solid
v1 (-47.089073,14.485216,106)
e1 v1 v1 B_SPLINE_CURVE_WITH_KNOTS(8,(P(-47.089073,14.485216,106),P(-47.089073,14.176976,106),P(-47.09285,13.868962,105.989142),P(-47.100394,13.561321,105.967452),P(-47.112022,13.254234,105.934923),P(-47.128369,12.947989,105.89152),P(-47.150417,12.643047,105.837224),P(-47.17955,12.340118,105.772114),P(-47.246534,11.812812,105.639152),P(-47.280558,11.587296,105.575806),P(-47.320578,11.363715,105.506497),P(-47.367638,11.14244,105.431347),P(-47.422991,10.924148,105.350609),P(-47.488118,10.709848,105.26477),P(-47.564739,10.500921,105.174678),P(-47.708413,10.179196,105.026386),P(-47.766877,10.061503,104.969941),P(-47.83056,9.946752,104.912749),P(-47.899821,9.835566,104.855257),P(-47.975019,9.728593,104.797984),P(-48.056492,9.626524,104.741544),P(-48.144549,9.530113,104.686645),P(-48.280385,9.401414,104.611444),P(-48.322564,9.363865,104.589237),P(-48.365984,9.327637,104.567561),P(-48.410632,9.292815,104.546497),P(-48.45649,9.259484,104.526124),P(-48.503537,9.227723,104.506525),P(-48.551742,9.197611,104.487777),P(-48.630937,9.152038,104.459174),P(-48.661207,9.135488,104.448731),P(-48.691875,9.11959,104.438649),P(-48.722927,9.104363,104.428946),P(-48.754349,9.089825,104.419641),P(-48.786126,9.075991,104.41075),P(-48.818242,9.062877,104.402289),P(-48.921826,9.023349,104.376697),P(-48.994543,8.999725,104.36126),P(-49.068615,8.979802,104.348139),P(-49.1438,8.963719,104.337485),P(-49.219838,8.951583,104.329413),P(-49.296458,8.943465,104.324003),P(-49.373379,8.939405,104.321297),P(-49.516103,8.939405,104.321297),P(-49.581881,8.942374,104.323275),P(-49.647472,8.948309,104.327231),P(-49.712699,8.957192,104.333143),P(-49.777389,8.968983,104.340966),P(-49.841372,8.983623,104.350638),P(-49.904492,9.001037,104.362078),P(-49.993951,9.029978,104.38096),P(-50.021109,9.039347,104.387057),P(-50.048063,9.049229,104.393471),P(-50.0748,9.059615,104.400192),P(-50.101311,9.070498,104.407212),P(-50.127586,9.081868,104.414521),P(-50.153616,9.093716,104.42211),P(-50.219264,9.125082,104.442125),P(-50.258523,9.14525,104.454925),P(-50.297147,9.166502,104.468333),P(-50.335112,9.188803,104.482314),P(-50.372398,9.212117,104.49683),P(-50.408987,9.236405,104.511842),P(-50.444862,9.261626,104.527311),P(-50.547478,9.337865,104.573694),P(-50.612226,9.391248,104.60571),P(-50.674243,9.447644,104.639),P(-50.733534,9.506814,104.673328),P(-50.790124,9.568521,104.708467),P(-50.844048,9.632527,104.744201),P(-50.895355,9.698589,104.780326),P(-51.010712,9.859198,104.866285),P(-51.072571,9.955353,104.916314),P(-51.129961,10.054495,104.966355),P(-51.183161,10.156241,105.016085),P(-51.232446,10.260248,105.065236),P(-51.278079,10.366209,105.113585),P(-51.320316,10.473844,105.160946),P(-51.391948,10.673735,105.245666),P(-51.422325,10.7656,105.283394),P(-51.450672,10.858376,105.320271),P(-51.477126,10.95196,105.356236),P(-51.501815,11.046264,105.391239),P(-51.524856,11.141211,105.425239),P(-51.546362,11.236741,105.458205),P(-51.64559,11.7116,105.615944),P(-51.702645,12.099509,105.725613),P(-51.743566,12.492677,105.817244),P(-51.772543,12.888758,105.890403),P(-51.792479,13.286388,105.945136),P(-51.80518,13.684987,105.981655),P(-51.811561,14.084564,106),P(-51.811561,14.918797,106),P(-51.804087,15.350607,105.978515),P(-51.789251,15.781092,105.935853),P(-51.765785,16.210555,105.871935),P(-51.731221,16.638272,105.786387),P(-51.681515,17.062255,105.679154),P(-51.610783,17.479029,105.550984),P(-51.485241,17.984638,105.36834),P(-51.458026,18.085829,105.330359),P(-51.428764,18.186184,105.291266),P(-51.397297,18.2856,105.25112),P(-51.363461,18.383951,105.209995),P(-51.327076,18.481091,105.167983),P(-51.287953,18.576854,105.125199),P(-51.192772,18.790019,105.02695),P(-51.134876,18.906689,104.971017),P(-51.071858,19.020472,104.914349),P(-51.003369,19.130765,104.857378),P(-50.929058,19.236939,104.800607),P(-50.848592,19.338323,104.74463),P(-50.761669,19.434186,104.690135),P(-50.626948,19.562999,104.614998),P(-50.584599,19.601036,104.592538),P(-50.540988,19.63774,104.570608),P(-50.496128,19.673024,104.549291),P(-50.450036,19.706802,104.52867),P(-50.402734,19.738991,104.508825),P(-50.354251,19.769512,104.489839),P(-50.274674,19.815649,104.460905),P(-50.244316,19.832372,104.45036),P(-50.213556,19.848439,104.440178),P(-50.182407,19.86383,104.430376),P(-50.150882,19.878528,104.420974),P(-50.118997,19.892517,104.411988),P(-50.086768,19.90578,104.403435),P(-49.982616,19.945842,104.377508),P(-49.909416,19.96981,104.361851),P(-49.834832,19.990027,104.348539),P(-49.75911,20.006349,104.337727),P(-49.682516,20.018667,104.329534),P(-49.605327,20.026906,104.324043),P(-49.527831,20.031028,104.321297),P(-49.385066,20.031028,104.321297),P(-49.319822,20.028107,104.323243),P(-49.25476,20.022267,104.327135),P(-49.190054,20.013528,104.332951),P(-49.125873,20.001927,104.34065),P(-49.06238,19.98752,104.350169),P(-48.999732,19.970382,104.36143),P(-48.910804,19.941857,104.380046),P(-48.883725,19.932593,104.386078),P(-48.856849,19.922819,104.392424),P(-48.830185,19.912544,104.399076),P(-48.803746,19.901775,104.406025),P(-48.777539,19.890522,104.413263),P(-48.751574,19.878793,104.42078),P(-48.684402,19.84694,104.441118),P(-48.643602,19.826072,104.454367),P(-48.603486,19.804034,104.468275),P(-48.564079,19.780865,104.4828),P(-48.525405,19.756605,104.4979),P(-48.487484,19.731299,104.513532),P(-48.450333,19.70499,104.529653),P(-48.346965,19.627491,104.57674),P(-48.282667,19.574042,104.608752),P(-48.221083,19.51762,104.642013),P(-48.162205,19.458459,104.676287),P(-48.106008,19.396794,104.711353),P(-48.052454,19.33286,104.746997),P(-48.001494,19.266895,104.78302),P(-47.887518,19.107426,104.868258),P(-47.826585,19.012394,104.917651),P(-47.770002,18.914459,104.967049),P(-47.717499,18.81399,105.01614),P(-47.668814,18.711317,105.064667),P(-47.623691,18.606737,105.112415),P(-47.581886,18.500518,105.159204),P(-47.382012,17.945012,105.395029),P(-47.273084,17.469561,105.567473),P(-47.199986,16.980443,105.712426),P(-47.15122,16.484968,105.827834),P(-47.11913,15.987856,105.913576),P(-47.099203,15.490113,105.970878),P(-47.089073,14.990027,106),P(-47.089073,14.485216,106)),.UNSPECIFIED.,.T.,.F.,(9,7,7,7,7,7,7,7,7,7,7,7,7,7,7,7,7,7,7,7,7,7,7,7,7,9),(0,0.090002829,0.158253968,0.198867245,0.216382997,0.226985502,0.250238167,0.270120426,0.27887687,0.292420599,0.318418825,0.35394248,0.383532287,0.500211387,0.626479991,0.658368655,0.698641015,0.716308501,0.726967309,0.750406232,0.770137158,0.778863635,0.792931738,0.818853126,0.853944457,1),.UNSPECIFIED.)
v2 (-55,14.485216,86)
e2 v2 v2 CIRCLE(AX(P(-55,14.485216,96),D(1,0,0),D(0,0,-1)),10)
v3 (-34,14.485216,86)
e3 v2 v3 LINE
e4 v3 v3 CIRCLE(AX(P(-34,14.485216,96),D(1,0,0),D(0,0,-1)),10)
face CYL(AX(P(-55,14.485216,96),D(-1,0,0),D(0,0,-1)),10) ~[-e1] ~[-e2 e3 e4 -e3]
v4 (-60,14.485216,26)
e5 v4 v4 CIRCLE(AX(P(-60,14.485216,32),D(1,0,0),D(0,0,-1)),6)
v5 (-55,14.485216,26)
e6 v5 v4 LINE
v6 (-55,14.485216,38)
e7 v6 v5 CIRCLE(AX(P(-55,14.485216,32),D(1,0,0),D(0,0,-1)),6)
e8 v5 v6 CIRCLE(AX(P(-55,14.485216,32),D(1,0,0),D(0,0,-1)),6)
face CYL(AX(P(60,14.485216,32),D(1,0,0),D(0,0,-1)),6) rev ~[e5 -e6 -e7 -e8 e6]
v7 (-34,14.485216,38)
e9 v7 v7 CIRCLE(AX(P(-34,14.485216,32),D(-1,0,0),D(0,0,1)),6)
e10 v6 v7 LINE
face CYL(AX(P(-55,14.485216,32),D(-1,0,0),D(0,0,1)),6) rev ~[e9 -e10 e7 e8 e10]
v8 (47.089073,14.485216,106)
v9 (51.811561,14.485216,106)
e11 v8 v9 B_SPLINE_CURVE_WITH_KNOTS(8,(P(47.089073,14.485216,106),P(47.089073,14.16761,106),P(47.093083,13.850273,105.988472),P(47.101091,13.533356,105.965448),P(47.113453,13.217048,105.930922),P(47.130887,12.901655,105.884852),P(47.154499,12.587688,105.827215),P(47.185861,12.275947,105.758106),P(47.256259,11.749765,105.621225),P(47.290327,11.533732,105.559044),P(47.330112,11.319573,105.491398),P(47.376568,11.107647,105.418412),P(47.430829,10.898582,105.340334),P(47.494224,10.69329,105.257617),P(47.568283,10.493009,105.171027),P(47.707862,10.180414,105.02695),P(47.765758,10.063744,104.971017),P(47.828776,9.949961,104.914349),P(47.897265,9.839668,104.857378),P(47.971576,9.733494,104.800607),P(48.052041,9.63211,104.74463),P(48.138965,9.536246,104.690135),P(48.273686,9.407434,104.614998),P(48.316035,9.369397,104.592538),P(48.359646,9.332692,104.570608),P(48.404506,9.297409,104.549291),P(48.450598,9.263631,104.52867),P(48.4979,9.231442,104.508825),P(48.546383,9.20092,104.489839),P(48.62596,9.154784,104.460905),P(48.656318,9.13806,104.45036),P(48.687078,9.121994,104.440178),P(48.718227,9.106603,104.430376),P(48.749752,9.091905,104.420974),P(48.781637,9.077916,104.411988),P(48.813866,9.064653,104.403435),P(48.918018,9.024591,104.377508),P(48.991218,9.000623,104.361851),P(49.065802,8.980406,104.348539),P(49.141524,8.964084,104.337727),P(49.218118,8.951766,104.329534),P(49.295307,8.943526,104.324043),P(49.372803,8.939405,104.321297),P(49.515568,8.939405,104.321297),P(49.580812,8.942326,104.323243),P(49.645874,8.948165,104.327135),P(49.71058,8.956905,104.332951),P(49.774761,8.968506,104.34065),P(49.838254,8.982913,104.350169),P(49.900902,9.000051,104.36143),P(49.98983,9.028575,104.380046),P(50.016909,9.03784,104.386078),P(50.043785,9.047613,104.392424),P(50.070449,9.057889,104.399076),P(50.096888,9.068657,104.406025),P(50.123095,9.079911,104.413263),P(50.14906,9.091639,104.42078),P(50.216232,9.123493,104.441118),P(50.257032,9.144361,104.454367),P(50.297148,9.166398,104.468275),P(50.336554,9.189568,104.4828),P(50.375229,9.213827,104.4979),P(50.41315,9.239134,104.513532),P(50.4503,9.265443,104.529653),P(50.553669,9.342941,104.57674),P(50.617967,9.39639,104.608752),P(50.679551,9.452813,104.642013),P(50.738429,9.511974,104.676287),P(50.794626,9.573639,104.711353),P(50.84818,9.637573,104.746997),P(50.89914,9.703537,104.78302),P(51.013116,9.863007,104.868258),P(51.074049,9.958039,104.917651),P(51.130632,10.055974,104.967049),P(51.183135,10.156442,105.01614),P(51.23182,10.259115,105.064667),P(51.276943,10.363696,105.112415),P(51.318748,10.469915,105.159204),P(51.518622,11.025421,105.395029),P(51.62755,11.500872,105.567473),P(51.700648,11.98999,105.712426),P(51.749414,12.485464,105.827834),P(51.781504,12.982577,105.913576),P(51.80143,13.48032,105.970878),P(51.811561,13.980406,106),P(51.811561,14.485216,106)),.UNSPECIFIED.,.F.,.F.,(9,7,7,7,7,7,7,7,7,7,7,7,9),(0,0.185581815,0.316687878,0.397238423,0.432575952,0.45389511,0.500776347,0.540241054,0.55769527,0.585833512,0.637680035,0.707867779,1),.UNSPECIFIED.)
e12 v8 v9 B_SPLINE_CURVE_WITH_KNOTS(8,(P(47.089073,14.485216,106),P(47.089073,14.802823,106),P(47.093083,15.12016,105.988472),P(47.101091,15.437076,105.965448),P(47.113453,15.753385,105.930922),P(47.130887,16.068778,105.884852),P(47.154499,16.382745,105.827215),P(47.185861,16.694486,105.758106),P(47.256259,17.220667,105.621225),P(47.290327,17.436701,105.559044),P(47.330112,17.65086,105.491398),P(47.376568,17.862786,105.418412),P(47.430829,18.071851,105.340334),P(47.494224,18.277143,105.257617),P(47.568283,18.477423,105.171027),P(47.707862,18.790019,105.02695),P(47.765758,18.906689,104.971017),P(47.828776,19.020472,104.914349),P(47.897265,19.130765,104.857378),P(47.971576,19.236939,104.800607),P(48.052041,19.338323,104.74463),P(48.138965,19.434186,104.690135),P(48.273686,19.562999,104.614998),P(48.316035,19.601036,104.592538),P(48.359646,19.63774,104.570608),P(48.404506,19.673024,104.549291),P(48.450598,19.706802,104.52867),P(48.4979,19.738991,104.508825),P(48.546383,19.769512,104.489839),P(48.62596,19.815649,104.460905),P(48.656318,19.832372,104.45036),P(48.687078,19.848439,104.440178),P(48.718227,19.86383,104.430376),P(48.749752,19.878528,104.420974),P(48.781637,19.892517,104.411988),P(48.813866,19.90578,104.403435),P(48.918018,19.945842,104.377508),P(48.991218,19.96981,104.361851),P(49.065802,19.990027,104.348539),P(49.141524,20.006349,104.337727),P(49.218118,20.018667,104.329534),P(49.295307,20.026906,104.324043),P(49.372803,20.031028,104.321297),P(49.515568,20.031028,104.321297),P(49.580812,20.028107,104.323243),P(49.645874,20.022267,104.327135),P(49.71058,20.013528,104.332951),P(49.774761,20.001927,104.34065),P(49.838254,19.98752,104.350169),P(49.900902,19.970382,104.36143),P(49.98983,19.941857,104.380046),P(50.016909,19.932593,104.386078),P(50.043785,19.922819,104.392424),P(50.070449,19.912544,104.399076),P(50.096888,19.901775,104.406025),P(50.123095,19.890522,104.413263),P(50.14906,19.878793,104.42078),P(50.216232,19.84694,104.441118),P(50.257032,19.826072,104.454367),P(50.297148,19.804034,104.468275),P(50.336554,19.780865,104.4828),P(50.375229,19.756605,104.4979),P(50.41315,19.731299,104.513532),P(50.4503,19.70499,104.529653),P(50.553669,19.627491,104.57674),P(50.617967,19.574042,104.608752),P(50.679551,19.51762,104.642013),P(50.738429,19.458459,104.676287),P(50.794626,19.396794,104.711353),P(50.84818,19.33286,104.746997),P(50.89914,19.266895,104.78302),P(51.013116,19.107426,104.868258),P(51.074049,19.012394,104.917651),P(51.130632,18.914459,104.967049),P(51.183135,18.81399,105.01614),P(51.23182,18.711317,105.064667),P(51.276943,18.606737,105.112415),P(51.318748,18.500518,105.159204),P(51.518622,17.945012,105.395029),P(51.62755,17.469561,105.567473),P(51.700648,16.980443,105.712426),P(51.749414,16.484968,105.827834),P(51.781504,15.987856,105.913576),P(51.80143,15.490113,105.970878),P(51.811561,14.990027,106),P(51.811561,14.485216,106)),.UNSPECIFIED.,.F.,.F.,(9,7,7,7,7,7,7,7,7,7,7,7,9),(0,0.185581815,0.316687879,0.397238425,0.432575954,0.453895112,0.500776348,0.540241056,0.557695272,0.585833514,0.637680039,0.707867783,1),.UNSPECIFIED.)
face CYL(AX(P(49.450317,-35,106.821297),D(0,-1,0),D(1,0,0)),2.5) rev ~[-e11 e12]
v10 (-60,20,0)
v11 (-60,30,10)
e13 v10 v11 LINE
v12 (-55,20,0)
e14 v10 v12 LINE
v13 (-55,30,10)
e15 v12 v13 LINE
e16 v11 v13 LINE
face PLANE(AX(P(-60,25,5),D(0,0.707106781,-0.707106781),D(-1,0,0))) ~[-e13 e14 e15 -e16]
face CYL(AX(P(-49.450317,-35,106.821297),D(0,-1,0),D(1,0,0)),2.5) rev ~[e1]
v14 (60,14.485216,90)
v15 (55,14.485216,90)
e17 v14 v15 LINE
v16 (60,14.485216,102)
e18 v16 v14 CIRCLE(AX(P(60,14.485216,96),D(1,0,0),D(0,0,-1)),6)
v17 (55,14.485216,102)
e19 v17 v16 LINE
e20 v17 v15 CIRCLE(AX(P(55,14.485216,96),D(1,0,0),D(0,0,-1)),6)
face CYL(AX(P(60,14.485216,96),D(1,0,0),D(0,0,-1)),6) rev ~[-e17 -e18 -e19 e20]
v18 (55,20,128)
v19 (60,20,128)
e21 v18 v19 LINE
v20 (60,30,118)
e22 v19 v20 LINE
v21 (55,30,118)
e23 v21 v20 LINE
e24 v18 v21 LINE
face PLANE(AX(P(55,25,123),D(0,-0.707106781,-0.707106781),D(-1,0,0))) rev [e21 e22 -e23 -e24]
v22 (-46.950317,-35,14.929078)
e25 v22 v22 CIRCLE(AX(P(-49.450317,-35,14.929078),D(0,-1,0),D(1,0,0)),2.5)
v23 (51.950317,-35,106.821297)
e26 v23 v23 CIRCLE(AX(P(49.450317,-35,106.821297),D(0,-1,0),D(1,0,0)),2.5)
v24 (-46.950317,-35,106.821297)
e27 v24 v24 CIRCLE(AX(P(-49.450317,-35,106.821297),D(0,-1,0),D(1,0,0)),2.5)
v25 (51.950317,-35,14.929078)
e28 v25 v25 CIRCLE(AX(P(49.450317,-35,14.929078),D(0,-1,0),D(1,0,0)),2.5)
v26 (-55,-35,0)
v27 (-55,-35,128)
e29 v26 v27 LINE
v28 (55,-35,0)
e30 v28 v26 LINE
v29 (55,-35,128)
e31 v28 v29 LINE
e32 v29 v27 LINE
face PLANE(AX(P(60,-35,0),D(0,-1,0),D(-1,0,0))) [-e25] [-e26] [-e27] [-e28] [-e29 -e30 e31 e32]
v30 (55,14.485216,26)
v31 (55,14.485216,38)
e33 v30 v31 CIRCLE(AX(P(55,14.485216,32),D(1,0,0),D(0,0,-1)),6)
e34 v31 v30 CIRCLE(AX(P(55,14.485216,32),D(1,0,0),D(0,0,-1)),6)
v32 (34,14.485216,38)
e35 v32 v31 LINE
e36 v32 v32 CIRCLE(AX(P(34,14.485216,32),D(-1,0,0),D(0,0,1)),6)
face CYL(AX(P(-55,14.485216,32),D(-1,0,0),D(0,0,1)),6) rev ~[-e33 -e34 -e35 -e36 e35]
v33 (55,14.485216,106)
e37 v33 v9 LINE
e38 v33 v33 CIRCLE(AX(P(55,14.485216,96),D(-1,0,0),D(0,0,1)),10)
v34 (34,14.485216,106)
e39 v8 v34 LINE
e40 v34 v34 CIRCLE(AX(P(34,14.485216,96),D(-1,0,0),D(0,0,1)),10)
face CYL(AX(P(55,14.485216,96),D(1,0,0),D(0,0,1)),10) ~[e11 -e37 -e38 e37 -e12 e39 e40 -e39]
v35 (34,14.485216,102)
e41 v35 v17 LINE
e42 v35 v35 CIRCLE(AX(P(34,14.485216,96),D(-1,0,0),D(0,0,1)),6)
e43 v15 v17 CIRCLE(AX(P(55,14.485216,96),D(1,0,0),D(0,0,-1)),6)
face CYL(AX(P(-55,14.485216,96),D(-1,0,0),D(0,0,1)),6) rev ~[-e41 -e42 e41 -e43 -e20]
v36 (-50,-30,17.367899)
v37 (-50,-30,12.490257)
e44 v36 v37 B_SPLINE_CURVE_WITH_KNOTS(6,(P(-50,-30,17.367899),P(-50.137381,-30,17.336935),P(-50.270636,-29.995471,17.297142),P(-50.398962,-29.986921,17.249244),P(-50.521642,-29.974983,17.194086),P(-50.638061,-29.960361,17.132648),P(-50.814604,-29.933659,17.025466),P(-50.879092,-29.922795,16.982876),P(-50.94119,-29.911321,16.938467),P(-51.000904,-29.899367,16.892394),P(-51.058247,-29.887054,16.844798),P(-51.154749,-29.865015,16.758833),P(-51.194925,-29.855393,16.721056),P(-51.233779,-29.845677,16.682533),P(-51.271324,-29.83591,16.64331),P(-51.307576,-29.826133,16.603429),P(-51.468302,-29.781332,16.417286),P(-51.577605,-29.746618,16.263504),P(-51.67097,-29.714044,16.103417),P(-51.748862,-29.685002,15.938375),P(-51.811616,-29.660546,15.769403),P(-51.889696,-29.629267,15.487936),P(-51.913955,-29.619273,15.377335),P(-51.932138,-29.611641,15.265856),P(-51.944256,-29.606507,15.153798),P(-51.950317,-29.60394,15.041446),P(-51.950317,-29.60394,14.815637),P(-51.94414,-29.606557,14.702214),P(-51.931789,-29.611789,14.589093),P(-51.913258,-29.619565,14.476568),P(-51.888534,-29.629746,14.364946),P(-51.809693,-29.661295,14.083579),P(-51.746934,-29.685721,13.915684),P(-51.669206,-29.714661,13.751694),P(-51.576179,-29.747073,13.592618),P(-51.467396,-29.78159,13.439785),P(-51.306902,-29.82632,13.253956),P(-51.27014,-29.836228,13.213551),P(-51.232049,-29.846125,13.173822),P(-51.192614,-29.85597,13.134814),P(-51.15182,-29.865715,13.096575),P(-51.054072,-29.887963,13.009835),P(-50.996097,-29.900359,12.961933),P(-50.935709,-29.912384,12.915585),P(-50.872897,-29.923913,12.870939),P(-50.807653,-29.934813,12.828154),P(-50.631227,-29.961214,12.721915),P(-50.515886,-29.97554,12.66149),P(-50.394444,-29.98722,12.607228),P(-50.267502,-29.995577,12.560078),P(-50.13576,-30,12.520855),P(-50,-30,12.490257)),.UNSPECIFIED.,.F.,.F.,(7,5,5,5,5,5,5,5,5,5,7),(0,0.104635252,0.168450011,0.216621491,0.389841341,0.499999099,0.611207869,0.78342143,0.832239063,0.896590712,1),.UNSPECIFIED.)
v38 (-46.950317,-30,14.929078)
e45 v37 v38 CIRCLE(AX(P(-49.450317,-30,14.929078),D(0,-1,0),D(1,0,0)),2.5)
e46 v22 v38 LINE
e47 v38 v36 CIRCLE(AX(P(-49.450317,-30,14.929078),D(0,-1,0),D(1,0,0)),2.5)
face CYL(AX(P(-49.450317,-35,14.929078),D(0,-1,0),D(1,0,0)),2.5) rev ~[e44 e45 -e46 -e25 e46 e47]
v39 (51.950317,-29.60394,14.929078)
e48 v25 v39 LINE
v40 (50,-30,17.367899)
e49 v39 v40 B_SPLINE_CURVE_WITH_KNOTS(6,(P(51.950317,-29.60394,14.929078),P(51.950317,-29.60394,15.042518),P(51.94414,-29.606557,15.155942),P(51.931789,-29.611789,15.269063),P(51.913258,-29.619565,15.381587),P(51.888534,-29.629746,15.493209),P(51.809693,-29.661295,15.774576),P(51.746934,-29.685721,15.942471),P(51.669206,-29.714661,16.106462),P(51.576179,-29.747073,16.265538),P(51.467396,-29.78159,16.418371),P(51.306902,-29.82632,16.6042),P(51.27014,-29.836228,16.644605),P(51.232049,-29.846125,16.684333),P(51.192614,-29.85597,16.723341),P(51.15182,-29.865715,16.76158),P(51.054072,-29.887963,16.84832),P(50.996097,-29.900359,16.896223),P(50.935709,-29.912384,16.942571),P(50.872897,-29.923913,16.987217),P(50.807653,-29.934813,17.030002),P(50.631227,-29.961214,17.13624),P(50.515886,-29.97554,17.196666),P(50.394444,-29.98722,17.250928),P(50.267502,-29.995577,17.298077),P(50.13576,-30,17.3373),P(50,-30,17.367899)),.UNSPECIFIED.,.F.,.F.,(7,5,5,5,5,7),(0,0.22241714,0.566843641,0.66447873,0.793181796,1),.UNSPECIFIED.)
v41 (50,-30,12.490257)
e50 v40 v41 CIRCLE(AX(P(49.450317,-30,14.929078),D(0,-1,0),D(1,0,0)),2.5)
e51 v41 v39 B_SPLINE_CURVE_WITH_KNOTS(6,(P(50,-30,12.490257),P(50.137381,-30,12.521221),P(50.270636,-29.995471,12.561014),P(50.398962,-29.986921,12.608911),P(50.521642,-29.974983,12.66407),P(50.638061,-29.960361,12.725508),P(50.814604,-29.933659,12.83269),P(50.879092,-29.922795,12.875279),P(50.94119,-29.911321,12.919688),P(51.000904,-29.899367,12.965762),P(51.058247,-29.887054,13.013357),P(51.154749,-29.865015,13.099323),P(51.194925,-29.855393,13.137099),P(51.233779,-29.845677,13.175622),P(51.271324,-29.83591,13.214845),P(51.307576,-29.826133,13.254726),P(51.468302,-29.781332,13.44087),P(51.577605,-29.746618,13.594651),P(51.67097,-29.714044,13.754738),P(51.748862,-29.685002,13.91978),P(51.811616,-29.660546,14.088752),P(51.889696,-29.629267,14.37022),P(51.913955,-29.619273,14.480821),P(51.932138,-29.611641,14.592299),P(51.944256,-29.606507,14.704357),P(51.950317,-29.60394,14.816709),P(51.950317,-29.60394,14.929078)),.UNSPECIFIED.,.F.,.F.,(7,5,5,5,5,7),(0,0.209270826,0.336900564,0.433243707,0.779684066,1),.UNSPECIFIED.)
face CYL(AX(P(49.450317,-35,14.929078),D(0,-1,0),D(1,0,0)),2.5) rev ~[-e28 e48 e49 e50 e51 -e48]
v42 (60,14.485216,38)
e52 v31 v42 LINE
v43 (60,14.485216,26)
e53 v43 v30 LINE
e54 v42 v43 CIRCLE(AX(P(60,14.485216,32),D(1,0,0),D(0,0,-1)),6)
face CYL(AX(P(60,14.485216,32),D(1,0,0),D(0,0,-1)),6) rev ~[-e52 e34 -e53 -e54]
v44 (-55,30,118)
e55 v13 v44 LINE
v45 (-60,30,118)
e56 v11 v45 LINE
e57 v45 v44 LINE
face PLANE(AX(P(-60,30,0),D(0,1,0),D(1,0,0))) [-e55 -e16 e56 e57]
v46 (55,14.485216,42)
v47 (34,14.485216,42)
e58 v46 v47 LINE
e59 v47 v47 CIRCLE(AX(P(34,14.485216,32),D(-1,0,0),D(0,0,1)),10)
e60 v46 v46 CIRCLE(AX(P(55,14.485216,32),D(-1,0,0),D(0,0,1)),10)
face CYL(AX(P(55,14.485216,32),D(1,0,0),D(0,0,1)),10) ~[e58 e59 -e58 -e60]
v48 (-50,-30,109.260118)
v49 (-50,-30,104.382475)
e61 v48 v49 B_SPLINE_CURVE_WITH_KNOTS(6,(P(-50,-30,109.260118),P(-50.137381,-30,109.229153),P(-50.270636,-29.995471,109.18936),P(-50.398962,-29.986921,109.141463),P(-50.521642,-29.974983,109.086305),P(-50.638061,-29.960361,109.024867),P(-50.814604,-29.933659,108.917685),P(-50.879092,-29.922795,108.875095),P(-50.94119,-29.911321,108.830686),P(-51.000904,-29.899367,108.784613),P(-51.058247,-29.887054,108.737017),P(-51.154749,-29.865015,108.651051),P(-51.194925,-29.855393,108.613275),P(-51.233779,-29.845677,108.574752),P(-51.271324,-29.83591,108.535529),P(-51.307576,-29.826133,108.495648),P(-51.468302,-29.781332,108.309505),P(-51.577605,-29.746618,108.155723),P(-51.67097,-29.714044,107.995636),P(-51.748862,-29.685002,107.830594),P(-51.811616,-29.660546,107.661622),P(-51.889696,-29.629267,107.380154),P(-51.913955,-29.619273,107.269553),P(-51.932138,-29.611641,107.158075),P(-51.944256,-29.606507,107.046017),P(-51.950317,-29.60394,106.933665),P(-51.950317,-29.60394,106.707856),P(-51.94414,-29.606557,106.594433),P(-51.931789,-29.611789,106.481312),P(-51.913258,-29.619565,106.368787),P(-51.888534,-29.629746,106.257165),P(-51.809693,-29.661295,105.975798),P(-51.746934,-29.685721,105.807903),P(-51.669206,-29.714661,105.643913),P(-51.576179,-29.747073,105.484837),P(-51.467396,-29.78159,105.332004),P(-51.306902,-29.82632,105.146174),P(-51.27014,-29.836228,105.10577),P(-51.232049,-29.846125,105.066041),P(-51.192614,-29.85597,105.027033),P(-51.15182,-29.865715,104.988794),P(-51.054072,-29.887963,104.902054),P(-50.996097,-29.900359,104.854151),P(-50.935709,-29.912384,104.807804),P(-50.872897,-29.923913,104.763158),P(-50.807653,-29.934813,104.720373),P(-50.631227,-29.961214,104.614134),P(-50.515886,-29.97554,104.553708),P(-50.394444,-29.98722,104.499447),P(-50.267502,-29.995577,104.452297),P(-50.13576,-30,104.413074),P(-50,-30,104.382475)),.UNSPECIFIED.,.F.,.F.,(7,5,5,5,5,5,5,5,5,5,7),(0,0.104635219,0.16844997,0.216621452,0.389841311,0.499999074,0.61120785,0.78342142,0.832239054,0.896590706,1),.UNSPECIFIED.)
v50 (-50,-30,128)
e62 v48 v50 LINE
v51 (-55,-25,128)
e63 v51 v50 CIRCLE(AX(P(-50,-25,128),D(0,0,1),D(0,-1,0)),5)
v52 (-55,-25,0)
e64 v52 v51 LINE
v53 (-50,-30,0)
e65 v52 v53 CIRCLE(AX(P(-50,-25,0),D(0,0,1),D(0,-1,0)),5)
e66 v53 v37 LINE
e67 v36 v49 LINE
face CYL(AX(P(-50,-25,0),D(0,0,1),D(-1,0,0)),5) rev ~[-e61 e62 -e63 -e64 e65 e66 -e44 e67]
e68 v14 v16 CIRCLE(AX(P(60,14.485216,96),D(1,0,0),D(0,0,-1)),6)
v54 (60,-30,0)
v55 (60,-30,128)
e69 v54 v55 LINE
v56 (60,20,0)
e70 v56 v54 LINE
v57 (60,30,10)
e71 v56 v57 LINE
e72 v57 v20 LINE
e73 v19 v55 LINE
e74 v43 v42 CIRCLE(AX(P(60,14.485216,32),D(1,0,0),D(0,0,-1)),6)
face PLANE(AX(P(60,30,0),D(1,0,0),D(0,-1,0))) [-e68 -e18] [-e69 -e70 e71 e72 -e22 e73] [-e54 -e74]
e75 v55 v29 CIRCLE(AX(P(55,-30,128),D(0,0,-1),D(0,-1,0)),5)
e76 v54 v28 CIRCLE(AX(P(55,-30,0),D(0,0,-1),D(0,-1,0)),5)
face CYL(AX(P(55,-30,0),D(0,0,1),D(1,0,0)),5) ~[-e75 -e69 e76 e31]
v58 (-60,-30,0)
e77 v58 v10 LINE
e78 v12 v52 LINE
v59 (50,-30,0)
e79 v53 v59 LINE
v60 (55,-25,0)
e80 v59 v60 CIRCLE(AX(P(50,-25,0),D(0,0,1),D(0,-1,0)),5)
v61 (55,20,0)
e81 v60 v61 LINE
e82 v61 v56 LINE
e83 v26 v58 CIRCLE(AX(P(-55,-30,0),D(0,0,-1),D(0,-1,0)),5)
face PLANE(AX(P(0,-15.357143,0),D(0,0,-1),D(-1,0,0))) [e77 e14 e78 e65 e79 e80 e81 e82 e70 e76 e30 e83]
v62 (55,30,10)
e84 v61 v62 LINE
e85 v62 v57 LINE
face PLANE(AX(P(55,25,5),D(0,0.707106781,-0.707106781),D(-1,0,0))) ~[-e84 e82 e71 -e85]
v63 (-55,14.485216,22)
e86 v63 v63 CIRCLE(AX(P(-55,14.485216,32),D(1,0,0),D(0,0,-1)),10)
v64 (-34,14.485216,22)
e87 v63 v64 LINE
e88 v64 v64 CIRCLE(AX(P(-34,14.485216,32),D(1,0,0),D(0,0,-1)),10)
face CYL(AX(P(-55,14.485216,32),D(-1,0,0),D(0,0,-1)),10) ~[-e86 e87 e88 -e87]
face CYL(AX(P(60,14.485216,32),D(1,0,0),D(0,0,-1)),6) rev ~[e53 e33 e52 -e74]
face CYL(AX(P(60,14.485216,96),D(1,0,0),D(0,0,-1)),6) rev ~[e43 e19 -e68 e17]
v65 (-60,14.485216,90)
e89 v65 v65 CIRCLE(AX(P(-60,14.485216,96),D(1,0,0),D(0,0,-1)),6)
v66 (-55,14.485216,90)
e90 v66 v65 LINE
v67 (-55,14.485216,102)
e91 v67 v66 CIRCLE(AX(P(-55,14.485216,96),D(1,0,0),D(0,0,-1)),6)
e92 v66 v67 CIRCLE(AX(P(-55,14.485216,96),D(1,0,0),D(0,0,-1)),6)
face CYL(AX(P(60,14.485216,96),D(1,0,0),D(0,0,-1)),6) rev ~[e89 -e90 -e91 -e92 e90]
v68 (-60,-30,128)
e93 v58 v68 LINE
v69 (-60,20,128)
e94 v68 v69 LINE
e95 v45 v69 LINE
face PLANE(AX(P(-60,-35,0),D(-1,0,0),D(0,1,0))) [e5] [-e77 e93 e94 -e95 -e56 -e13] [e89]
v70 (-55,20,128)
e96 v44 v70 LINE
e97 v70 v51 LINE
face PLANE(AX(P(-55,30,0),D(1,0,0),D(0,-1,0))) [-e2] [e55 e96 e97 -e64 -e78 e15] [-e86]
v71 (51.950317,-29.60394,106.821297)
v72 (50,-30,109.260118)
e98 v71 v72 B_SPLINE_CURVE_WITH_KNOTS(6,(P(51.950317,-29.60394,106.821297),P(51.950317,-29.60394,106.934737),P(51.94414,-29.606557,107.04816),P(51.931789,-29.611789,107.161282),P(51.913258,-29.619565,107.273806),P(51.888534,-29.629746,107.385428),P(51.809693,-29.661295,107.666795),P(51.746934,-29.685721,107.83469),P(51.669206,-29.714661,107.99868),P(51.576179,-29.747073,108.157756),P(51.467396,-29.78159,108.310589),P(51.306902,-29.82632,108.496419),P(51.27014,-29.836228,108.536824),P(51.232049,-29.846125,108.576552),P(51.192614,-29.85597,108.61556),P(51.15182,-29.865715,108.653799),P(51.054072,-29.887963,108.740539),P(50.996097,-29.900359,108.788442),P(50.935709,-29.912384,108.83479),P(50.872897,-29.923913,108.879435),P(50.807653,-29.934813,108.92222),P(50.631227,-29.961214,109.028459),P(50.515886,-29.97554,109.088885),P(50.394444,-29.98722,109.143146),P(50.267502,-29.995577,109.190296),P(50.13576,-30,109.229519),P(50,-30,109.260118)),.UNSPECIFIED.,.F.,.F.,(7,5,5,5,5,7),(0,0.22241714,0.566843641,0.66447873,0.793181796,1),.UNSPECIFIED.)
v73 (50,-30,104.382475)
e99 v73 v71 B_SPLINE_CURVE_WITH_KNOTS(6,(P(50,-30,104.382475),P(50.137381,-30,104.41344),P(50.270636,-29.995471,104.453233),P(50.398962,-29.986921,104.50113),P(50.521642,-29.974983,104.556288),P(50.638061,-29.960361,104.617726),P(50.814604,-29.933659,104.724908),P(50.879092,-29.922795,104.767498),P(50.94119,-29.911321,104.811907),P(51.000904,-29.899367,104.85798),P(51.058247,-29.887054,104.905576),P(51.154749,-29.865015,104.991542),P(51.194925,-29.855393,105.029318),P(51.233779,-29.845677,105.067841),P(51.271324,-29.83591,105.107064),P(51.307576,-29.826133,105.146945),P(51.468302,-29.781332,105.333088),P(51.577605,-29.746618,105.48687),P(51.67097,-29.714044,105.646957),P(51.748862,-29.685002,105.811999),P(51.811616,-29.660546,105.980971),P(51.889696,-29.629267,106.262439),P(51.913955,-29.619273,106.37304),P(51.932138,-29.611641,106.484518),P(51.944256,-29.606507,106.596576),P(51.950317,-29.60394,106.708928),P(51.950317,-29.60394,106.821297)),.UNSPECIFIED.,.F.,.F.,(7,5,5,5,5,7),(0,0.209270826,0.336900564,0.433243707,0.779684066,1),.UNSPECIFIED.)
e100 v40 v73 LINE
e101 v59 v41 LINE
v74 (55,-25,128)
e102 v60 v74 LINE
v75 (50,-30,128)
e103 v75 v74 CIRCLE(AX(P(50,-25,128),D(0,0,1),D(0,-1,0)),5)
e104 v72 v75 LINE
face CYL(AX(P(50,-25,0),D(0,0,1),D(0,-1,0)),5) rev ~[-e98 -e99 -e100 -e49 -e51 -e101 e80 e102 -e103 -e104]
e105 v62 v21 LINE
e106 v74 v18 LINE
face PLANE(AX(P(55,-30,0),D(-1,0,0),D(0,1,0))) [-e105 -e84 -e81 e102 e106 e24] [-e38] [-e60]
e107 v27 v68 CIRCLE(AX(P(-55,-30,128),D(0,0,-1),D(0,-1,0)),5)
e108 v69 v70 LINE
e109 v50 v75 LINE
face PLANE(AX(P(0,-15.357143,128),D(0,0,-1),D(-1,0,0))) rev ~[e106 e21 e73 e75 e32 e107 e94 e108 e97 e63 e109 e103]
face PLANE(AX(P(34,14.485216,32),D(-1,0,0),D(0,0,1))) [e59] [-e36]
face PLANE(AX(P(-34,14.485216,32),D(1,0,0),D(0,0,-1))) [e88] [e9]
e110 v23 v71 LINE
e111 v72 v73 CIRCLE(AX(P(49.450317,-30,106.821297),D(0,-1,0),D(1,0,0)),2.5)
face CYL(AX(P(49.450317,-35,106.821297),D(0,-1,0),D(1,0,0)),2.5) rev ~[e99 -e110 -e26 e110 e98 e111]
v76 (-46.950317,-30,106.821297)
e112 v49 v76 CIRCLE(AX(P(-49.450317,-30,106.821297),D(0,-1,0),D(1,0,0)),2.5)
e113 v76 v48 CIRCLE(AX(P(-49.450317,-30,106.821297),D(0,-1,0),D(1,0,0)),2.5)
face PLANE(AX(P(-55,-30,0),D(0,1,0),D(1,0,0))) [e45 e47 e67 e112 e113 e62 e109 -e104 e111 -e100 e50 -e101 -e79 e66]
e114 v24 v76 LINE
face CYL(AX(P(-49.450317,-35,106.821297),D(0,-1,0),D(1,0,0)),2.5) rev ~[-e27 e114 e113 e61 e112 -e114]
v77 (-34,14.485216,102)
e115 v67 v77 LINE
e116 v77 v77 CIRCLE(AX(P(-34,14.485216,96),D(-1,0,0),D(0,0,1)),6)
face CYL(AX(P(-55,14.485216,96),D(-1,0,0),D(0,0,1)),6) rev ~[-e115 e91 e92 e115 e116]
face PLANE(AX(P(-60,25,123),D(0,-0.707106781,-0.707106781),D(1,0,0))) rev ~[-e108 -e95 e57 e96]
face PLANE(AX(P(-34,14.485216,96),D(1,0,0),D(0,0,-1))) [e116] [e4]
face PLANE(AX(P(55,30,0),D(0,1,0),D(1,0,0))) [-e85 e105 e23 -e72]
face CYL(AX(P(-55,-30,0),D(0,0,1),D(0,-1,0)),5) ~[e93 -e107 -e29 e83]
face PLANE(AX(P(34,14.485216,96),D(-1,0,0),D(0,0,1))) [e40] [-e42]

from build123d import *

# Parameters (mm, degrees)
BOSS_EXTRUDE1_DEPTH     = 128
FILLET1_R               = 5
CHAMFER1_SIZE           = 10
SKETCH3_R               = 6
CUT_EXTRUDE1_DEPTH      = 121
SKETCH5_R               = 10
BOSS_EXTRUDE2_DEPTH     = 21
SKETCH6_R               = 10
BOSS_EXTRUDE3_DEPTH     = 21
SKETCH7_R               = 6
CUT_EXTRUDE2_DEPTH      = 6
CUT_EXTRUDE2_DEPTH_BACK = 116
SKETCH8_R               = 2.5
CUT_EXTRUDE3_DEPTH      = 66


with BuildPart() as part:
    # Sketch2 → Boss-Extrude1 (new body)
    with BuildSketch(Plane.XY):
        Polygon((-55, 30), (-55, -30), (55, -30), (55, 30), (60, 30), (60, -35), (-60, -35), (-60, 30), align=None)
    extrude(amount=BOSS_EXTRUDE1_DEPTH)

    # Fillet1
    fillet1_edges = [part.edges().sort_by_distance(p)[0] for p in [
        (60, -35, 64),
        (-60, -35, 64),
        (-55, -30, 64),
        (55, -30, 64),
    ]]
    fillet(fillet1_edges, radius=FILLET1_R)

    # Chamfer1
    chamfer1_edges = [part.edges().sort_by_distance(p)[0] for p in [
        (-57.5, 30, 128),
        (57.5, 30, 128),
        (57.5, 30, 0),
        (-57.5, 30, 0),
    ]]
    chamfer(chamfer1_edges, length=CHAMFER1_SIZE)

    # Sketch3 → Cut-Extrude1 (cut, through all)
    with BuildSketch(Plane(origin=(60, 0, 0), x_dir=(0, 0, -1), z_dir=(1, 0, 0))):
        with Locations((-96, 14.48521638)):
            Circle(SKETCH3_R)
        with Locations((-32, 14.48521638)):
            Circle(SKETCH3_R)
    extrude(amount=-CUT_EXTRUDE1_DEPTH, mode=Mode.SUBTRACT)

    # Sketch5 → Boss-Extrude2 (add)
    with BuildSketch(Plane.ZY.offset(-55)):
        with Locations((32, 14.48521638)):
            Circle(SKETCH5_R)
        with Locations((96, 14.48521638)):
            Circle(SKETCH5_R)
    extrude(amount=BOSS_EXTRUDE2_DEPTH)

    # Sketch6 → Boss-Extrude3 (add)
    with BuildSketch(Plane(origin=(-55, 0, 0), x_dir=(0, 0, -1), z_dir=(1, 0, 0))):
        with Locations((-32, 14.48521638)):
            Circle(SKETCH6_R)
        with Locations((-96, 14.48521638)):
            Circle(SKETCH6_R)
    extrude(amount=BOSS_EXTRUDE3_DEPTH)

    # Sketch7 → Cut-Extrude2 (cut, two sides)
    with BuildSketch(Plane.ZY.offset(55)) as cut_extrude2_sk:
        with Locations((32, 14.48521638)):
            Circle(SKETCH7_R)
        with Locations((96, 14.48521638)):
            Circle(SKETCH7_R)
    extrude(amount=CUT_EXTRUDE2_DEPTH, mode=Mode.SUBTRACT)
    extrude(cut_extrude2_sk.sketch, amount=-CUT_EXTRUDE2_DEPTH_BACK, mode=Mode.SUBTRACT)

    # Sketch8 → Cut-Extrude3 (cut, through all)
    with BuildSketch(Plane.XZ.offset(35)):
        with Locations((49.450316968, 14.929077734)):
            Circle(SKETCH8_R)
        with Locations((-49.450316968, 14.929077734)):
            Circle(SKETCH8_R)
        with Locations((-49.450316968, 106.821296535)):
            Circle(SKETCH8_R)
        with Locations((49.450316968, 106.821296535)):
            Circle(SKETCH8_R)
    extrude(amount=-CUT_EXTRUDE3_DEPTH, mode=Mode.SUBTRACT)


solid = part.part
